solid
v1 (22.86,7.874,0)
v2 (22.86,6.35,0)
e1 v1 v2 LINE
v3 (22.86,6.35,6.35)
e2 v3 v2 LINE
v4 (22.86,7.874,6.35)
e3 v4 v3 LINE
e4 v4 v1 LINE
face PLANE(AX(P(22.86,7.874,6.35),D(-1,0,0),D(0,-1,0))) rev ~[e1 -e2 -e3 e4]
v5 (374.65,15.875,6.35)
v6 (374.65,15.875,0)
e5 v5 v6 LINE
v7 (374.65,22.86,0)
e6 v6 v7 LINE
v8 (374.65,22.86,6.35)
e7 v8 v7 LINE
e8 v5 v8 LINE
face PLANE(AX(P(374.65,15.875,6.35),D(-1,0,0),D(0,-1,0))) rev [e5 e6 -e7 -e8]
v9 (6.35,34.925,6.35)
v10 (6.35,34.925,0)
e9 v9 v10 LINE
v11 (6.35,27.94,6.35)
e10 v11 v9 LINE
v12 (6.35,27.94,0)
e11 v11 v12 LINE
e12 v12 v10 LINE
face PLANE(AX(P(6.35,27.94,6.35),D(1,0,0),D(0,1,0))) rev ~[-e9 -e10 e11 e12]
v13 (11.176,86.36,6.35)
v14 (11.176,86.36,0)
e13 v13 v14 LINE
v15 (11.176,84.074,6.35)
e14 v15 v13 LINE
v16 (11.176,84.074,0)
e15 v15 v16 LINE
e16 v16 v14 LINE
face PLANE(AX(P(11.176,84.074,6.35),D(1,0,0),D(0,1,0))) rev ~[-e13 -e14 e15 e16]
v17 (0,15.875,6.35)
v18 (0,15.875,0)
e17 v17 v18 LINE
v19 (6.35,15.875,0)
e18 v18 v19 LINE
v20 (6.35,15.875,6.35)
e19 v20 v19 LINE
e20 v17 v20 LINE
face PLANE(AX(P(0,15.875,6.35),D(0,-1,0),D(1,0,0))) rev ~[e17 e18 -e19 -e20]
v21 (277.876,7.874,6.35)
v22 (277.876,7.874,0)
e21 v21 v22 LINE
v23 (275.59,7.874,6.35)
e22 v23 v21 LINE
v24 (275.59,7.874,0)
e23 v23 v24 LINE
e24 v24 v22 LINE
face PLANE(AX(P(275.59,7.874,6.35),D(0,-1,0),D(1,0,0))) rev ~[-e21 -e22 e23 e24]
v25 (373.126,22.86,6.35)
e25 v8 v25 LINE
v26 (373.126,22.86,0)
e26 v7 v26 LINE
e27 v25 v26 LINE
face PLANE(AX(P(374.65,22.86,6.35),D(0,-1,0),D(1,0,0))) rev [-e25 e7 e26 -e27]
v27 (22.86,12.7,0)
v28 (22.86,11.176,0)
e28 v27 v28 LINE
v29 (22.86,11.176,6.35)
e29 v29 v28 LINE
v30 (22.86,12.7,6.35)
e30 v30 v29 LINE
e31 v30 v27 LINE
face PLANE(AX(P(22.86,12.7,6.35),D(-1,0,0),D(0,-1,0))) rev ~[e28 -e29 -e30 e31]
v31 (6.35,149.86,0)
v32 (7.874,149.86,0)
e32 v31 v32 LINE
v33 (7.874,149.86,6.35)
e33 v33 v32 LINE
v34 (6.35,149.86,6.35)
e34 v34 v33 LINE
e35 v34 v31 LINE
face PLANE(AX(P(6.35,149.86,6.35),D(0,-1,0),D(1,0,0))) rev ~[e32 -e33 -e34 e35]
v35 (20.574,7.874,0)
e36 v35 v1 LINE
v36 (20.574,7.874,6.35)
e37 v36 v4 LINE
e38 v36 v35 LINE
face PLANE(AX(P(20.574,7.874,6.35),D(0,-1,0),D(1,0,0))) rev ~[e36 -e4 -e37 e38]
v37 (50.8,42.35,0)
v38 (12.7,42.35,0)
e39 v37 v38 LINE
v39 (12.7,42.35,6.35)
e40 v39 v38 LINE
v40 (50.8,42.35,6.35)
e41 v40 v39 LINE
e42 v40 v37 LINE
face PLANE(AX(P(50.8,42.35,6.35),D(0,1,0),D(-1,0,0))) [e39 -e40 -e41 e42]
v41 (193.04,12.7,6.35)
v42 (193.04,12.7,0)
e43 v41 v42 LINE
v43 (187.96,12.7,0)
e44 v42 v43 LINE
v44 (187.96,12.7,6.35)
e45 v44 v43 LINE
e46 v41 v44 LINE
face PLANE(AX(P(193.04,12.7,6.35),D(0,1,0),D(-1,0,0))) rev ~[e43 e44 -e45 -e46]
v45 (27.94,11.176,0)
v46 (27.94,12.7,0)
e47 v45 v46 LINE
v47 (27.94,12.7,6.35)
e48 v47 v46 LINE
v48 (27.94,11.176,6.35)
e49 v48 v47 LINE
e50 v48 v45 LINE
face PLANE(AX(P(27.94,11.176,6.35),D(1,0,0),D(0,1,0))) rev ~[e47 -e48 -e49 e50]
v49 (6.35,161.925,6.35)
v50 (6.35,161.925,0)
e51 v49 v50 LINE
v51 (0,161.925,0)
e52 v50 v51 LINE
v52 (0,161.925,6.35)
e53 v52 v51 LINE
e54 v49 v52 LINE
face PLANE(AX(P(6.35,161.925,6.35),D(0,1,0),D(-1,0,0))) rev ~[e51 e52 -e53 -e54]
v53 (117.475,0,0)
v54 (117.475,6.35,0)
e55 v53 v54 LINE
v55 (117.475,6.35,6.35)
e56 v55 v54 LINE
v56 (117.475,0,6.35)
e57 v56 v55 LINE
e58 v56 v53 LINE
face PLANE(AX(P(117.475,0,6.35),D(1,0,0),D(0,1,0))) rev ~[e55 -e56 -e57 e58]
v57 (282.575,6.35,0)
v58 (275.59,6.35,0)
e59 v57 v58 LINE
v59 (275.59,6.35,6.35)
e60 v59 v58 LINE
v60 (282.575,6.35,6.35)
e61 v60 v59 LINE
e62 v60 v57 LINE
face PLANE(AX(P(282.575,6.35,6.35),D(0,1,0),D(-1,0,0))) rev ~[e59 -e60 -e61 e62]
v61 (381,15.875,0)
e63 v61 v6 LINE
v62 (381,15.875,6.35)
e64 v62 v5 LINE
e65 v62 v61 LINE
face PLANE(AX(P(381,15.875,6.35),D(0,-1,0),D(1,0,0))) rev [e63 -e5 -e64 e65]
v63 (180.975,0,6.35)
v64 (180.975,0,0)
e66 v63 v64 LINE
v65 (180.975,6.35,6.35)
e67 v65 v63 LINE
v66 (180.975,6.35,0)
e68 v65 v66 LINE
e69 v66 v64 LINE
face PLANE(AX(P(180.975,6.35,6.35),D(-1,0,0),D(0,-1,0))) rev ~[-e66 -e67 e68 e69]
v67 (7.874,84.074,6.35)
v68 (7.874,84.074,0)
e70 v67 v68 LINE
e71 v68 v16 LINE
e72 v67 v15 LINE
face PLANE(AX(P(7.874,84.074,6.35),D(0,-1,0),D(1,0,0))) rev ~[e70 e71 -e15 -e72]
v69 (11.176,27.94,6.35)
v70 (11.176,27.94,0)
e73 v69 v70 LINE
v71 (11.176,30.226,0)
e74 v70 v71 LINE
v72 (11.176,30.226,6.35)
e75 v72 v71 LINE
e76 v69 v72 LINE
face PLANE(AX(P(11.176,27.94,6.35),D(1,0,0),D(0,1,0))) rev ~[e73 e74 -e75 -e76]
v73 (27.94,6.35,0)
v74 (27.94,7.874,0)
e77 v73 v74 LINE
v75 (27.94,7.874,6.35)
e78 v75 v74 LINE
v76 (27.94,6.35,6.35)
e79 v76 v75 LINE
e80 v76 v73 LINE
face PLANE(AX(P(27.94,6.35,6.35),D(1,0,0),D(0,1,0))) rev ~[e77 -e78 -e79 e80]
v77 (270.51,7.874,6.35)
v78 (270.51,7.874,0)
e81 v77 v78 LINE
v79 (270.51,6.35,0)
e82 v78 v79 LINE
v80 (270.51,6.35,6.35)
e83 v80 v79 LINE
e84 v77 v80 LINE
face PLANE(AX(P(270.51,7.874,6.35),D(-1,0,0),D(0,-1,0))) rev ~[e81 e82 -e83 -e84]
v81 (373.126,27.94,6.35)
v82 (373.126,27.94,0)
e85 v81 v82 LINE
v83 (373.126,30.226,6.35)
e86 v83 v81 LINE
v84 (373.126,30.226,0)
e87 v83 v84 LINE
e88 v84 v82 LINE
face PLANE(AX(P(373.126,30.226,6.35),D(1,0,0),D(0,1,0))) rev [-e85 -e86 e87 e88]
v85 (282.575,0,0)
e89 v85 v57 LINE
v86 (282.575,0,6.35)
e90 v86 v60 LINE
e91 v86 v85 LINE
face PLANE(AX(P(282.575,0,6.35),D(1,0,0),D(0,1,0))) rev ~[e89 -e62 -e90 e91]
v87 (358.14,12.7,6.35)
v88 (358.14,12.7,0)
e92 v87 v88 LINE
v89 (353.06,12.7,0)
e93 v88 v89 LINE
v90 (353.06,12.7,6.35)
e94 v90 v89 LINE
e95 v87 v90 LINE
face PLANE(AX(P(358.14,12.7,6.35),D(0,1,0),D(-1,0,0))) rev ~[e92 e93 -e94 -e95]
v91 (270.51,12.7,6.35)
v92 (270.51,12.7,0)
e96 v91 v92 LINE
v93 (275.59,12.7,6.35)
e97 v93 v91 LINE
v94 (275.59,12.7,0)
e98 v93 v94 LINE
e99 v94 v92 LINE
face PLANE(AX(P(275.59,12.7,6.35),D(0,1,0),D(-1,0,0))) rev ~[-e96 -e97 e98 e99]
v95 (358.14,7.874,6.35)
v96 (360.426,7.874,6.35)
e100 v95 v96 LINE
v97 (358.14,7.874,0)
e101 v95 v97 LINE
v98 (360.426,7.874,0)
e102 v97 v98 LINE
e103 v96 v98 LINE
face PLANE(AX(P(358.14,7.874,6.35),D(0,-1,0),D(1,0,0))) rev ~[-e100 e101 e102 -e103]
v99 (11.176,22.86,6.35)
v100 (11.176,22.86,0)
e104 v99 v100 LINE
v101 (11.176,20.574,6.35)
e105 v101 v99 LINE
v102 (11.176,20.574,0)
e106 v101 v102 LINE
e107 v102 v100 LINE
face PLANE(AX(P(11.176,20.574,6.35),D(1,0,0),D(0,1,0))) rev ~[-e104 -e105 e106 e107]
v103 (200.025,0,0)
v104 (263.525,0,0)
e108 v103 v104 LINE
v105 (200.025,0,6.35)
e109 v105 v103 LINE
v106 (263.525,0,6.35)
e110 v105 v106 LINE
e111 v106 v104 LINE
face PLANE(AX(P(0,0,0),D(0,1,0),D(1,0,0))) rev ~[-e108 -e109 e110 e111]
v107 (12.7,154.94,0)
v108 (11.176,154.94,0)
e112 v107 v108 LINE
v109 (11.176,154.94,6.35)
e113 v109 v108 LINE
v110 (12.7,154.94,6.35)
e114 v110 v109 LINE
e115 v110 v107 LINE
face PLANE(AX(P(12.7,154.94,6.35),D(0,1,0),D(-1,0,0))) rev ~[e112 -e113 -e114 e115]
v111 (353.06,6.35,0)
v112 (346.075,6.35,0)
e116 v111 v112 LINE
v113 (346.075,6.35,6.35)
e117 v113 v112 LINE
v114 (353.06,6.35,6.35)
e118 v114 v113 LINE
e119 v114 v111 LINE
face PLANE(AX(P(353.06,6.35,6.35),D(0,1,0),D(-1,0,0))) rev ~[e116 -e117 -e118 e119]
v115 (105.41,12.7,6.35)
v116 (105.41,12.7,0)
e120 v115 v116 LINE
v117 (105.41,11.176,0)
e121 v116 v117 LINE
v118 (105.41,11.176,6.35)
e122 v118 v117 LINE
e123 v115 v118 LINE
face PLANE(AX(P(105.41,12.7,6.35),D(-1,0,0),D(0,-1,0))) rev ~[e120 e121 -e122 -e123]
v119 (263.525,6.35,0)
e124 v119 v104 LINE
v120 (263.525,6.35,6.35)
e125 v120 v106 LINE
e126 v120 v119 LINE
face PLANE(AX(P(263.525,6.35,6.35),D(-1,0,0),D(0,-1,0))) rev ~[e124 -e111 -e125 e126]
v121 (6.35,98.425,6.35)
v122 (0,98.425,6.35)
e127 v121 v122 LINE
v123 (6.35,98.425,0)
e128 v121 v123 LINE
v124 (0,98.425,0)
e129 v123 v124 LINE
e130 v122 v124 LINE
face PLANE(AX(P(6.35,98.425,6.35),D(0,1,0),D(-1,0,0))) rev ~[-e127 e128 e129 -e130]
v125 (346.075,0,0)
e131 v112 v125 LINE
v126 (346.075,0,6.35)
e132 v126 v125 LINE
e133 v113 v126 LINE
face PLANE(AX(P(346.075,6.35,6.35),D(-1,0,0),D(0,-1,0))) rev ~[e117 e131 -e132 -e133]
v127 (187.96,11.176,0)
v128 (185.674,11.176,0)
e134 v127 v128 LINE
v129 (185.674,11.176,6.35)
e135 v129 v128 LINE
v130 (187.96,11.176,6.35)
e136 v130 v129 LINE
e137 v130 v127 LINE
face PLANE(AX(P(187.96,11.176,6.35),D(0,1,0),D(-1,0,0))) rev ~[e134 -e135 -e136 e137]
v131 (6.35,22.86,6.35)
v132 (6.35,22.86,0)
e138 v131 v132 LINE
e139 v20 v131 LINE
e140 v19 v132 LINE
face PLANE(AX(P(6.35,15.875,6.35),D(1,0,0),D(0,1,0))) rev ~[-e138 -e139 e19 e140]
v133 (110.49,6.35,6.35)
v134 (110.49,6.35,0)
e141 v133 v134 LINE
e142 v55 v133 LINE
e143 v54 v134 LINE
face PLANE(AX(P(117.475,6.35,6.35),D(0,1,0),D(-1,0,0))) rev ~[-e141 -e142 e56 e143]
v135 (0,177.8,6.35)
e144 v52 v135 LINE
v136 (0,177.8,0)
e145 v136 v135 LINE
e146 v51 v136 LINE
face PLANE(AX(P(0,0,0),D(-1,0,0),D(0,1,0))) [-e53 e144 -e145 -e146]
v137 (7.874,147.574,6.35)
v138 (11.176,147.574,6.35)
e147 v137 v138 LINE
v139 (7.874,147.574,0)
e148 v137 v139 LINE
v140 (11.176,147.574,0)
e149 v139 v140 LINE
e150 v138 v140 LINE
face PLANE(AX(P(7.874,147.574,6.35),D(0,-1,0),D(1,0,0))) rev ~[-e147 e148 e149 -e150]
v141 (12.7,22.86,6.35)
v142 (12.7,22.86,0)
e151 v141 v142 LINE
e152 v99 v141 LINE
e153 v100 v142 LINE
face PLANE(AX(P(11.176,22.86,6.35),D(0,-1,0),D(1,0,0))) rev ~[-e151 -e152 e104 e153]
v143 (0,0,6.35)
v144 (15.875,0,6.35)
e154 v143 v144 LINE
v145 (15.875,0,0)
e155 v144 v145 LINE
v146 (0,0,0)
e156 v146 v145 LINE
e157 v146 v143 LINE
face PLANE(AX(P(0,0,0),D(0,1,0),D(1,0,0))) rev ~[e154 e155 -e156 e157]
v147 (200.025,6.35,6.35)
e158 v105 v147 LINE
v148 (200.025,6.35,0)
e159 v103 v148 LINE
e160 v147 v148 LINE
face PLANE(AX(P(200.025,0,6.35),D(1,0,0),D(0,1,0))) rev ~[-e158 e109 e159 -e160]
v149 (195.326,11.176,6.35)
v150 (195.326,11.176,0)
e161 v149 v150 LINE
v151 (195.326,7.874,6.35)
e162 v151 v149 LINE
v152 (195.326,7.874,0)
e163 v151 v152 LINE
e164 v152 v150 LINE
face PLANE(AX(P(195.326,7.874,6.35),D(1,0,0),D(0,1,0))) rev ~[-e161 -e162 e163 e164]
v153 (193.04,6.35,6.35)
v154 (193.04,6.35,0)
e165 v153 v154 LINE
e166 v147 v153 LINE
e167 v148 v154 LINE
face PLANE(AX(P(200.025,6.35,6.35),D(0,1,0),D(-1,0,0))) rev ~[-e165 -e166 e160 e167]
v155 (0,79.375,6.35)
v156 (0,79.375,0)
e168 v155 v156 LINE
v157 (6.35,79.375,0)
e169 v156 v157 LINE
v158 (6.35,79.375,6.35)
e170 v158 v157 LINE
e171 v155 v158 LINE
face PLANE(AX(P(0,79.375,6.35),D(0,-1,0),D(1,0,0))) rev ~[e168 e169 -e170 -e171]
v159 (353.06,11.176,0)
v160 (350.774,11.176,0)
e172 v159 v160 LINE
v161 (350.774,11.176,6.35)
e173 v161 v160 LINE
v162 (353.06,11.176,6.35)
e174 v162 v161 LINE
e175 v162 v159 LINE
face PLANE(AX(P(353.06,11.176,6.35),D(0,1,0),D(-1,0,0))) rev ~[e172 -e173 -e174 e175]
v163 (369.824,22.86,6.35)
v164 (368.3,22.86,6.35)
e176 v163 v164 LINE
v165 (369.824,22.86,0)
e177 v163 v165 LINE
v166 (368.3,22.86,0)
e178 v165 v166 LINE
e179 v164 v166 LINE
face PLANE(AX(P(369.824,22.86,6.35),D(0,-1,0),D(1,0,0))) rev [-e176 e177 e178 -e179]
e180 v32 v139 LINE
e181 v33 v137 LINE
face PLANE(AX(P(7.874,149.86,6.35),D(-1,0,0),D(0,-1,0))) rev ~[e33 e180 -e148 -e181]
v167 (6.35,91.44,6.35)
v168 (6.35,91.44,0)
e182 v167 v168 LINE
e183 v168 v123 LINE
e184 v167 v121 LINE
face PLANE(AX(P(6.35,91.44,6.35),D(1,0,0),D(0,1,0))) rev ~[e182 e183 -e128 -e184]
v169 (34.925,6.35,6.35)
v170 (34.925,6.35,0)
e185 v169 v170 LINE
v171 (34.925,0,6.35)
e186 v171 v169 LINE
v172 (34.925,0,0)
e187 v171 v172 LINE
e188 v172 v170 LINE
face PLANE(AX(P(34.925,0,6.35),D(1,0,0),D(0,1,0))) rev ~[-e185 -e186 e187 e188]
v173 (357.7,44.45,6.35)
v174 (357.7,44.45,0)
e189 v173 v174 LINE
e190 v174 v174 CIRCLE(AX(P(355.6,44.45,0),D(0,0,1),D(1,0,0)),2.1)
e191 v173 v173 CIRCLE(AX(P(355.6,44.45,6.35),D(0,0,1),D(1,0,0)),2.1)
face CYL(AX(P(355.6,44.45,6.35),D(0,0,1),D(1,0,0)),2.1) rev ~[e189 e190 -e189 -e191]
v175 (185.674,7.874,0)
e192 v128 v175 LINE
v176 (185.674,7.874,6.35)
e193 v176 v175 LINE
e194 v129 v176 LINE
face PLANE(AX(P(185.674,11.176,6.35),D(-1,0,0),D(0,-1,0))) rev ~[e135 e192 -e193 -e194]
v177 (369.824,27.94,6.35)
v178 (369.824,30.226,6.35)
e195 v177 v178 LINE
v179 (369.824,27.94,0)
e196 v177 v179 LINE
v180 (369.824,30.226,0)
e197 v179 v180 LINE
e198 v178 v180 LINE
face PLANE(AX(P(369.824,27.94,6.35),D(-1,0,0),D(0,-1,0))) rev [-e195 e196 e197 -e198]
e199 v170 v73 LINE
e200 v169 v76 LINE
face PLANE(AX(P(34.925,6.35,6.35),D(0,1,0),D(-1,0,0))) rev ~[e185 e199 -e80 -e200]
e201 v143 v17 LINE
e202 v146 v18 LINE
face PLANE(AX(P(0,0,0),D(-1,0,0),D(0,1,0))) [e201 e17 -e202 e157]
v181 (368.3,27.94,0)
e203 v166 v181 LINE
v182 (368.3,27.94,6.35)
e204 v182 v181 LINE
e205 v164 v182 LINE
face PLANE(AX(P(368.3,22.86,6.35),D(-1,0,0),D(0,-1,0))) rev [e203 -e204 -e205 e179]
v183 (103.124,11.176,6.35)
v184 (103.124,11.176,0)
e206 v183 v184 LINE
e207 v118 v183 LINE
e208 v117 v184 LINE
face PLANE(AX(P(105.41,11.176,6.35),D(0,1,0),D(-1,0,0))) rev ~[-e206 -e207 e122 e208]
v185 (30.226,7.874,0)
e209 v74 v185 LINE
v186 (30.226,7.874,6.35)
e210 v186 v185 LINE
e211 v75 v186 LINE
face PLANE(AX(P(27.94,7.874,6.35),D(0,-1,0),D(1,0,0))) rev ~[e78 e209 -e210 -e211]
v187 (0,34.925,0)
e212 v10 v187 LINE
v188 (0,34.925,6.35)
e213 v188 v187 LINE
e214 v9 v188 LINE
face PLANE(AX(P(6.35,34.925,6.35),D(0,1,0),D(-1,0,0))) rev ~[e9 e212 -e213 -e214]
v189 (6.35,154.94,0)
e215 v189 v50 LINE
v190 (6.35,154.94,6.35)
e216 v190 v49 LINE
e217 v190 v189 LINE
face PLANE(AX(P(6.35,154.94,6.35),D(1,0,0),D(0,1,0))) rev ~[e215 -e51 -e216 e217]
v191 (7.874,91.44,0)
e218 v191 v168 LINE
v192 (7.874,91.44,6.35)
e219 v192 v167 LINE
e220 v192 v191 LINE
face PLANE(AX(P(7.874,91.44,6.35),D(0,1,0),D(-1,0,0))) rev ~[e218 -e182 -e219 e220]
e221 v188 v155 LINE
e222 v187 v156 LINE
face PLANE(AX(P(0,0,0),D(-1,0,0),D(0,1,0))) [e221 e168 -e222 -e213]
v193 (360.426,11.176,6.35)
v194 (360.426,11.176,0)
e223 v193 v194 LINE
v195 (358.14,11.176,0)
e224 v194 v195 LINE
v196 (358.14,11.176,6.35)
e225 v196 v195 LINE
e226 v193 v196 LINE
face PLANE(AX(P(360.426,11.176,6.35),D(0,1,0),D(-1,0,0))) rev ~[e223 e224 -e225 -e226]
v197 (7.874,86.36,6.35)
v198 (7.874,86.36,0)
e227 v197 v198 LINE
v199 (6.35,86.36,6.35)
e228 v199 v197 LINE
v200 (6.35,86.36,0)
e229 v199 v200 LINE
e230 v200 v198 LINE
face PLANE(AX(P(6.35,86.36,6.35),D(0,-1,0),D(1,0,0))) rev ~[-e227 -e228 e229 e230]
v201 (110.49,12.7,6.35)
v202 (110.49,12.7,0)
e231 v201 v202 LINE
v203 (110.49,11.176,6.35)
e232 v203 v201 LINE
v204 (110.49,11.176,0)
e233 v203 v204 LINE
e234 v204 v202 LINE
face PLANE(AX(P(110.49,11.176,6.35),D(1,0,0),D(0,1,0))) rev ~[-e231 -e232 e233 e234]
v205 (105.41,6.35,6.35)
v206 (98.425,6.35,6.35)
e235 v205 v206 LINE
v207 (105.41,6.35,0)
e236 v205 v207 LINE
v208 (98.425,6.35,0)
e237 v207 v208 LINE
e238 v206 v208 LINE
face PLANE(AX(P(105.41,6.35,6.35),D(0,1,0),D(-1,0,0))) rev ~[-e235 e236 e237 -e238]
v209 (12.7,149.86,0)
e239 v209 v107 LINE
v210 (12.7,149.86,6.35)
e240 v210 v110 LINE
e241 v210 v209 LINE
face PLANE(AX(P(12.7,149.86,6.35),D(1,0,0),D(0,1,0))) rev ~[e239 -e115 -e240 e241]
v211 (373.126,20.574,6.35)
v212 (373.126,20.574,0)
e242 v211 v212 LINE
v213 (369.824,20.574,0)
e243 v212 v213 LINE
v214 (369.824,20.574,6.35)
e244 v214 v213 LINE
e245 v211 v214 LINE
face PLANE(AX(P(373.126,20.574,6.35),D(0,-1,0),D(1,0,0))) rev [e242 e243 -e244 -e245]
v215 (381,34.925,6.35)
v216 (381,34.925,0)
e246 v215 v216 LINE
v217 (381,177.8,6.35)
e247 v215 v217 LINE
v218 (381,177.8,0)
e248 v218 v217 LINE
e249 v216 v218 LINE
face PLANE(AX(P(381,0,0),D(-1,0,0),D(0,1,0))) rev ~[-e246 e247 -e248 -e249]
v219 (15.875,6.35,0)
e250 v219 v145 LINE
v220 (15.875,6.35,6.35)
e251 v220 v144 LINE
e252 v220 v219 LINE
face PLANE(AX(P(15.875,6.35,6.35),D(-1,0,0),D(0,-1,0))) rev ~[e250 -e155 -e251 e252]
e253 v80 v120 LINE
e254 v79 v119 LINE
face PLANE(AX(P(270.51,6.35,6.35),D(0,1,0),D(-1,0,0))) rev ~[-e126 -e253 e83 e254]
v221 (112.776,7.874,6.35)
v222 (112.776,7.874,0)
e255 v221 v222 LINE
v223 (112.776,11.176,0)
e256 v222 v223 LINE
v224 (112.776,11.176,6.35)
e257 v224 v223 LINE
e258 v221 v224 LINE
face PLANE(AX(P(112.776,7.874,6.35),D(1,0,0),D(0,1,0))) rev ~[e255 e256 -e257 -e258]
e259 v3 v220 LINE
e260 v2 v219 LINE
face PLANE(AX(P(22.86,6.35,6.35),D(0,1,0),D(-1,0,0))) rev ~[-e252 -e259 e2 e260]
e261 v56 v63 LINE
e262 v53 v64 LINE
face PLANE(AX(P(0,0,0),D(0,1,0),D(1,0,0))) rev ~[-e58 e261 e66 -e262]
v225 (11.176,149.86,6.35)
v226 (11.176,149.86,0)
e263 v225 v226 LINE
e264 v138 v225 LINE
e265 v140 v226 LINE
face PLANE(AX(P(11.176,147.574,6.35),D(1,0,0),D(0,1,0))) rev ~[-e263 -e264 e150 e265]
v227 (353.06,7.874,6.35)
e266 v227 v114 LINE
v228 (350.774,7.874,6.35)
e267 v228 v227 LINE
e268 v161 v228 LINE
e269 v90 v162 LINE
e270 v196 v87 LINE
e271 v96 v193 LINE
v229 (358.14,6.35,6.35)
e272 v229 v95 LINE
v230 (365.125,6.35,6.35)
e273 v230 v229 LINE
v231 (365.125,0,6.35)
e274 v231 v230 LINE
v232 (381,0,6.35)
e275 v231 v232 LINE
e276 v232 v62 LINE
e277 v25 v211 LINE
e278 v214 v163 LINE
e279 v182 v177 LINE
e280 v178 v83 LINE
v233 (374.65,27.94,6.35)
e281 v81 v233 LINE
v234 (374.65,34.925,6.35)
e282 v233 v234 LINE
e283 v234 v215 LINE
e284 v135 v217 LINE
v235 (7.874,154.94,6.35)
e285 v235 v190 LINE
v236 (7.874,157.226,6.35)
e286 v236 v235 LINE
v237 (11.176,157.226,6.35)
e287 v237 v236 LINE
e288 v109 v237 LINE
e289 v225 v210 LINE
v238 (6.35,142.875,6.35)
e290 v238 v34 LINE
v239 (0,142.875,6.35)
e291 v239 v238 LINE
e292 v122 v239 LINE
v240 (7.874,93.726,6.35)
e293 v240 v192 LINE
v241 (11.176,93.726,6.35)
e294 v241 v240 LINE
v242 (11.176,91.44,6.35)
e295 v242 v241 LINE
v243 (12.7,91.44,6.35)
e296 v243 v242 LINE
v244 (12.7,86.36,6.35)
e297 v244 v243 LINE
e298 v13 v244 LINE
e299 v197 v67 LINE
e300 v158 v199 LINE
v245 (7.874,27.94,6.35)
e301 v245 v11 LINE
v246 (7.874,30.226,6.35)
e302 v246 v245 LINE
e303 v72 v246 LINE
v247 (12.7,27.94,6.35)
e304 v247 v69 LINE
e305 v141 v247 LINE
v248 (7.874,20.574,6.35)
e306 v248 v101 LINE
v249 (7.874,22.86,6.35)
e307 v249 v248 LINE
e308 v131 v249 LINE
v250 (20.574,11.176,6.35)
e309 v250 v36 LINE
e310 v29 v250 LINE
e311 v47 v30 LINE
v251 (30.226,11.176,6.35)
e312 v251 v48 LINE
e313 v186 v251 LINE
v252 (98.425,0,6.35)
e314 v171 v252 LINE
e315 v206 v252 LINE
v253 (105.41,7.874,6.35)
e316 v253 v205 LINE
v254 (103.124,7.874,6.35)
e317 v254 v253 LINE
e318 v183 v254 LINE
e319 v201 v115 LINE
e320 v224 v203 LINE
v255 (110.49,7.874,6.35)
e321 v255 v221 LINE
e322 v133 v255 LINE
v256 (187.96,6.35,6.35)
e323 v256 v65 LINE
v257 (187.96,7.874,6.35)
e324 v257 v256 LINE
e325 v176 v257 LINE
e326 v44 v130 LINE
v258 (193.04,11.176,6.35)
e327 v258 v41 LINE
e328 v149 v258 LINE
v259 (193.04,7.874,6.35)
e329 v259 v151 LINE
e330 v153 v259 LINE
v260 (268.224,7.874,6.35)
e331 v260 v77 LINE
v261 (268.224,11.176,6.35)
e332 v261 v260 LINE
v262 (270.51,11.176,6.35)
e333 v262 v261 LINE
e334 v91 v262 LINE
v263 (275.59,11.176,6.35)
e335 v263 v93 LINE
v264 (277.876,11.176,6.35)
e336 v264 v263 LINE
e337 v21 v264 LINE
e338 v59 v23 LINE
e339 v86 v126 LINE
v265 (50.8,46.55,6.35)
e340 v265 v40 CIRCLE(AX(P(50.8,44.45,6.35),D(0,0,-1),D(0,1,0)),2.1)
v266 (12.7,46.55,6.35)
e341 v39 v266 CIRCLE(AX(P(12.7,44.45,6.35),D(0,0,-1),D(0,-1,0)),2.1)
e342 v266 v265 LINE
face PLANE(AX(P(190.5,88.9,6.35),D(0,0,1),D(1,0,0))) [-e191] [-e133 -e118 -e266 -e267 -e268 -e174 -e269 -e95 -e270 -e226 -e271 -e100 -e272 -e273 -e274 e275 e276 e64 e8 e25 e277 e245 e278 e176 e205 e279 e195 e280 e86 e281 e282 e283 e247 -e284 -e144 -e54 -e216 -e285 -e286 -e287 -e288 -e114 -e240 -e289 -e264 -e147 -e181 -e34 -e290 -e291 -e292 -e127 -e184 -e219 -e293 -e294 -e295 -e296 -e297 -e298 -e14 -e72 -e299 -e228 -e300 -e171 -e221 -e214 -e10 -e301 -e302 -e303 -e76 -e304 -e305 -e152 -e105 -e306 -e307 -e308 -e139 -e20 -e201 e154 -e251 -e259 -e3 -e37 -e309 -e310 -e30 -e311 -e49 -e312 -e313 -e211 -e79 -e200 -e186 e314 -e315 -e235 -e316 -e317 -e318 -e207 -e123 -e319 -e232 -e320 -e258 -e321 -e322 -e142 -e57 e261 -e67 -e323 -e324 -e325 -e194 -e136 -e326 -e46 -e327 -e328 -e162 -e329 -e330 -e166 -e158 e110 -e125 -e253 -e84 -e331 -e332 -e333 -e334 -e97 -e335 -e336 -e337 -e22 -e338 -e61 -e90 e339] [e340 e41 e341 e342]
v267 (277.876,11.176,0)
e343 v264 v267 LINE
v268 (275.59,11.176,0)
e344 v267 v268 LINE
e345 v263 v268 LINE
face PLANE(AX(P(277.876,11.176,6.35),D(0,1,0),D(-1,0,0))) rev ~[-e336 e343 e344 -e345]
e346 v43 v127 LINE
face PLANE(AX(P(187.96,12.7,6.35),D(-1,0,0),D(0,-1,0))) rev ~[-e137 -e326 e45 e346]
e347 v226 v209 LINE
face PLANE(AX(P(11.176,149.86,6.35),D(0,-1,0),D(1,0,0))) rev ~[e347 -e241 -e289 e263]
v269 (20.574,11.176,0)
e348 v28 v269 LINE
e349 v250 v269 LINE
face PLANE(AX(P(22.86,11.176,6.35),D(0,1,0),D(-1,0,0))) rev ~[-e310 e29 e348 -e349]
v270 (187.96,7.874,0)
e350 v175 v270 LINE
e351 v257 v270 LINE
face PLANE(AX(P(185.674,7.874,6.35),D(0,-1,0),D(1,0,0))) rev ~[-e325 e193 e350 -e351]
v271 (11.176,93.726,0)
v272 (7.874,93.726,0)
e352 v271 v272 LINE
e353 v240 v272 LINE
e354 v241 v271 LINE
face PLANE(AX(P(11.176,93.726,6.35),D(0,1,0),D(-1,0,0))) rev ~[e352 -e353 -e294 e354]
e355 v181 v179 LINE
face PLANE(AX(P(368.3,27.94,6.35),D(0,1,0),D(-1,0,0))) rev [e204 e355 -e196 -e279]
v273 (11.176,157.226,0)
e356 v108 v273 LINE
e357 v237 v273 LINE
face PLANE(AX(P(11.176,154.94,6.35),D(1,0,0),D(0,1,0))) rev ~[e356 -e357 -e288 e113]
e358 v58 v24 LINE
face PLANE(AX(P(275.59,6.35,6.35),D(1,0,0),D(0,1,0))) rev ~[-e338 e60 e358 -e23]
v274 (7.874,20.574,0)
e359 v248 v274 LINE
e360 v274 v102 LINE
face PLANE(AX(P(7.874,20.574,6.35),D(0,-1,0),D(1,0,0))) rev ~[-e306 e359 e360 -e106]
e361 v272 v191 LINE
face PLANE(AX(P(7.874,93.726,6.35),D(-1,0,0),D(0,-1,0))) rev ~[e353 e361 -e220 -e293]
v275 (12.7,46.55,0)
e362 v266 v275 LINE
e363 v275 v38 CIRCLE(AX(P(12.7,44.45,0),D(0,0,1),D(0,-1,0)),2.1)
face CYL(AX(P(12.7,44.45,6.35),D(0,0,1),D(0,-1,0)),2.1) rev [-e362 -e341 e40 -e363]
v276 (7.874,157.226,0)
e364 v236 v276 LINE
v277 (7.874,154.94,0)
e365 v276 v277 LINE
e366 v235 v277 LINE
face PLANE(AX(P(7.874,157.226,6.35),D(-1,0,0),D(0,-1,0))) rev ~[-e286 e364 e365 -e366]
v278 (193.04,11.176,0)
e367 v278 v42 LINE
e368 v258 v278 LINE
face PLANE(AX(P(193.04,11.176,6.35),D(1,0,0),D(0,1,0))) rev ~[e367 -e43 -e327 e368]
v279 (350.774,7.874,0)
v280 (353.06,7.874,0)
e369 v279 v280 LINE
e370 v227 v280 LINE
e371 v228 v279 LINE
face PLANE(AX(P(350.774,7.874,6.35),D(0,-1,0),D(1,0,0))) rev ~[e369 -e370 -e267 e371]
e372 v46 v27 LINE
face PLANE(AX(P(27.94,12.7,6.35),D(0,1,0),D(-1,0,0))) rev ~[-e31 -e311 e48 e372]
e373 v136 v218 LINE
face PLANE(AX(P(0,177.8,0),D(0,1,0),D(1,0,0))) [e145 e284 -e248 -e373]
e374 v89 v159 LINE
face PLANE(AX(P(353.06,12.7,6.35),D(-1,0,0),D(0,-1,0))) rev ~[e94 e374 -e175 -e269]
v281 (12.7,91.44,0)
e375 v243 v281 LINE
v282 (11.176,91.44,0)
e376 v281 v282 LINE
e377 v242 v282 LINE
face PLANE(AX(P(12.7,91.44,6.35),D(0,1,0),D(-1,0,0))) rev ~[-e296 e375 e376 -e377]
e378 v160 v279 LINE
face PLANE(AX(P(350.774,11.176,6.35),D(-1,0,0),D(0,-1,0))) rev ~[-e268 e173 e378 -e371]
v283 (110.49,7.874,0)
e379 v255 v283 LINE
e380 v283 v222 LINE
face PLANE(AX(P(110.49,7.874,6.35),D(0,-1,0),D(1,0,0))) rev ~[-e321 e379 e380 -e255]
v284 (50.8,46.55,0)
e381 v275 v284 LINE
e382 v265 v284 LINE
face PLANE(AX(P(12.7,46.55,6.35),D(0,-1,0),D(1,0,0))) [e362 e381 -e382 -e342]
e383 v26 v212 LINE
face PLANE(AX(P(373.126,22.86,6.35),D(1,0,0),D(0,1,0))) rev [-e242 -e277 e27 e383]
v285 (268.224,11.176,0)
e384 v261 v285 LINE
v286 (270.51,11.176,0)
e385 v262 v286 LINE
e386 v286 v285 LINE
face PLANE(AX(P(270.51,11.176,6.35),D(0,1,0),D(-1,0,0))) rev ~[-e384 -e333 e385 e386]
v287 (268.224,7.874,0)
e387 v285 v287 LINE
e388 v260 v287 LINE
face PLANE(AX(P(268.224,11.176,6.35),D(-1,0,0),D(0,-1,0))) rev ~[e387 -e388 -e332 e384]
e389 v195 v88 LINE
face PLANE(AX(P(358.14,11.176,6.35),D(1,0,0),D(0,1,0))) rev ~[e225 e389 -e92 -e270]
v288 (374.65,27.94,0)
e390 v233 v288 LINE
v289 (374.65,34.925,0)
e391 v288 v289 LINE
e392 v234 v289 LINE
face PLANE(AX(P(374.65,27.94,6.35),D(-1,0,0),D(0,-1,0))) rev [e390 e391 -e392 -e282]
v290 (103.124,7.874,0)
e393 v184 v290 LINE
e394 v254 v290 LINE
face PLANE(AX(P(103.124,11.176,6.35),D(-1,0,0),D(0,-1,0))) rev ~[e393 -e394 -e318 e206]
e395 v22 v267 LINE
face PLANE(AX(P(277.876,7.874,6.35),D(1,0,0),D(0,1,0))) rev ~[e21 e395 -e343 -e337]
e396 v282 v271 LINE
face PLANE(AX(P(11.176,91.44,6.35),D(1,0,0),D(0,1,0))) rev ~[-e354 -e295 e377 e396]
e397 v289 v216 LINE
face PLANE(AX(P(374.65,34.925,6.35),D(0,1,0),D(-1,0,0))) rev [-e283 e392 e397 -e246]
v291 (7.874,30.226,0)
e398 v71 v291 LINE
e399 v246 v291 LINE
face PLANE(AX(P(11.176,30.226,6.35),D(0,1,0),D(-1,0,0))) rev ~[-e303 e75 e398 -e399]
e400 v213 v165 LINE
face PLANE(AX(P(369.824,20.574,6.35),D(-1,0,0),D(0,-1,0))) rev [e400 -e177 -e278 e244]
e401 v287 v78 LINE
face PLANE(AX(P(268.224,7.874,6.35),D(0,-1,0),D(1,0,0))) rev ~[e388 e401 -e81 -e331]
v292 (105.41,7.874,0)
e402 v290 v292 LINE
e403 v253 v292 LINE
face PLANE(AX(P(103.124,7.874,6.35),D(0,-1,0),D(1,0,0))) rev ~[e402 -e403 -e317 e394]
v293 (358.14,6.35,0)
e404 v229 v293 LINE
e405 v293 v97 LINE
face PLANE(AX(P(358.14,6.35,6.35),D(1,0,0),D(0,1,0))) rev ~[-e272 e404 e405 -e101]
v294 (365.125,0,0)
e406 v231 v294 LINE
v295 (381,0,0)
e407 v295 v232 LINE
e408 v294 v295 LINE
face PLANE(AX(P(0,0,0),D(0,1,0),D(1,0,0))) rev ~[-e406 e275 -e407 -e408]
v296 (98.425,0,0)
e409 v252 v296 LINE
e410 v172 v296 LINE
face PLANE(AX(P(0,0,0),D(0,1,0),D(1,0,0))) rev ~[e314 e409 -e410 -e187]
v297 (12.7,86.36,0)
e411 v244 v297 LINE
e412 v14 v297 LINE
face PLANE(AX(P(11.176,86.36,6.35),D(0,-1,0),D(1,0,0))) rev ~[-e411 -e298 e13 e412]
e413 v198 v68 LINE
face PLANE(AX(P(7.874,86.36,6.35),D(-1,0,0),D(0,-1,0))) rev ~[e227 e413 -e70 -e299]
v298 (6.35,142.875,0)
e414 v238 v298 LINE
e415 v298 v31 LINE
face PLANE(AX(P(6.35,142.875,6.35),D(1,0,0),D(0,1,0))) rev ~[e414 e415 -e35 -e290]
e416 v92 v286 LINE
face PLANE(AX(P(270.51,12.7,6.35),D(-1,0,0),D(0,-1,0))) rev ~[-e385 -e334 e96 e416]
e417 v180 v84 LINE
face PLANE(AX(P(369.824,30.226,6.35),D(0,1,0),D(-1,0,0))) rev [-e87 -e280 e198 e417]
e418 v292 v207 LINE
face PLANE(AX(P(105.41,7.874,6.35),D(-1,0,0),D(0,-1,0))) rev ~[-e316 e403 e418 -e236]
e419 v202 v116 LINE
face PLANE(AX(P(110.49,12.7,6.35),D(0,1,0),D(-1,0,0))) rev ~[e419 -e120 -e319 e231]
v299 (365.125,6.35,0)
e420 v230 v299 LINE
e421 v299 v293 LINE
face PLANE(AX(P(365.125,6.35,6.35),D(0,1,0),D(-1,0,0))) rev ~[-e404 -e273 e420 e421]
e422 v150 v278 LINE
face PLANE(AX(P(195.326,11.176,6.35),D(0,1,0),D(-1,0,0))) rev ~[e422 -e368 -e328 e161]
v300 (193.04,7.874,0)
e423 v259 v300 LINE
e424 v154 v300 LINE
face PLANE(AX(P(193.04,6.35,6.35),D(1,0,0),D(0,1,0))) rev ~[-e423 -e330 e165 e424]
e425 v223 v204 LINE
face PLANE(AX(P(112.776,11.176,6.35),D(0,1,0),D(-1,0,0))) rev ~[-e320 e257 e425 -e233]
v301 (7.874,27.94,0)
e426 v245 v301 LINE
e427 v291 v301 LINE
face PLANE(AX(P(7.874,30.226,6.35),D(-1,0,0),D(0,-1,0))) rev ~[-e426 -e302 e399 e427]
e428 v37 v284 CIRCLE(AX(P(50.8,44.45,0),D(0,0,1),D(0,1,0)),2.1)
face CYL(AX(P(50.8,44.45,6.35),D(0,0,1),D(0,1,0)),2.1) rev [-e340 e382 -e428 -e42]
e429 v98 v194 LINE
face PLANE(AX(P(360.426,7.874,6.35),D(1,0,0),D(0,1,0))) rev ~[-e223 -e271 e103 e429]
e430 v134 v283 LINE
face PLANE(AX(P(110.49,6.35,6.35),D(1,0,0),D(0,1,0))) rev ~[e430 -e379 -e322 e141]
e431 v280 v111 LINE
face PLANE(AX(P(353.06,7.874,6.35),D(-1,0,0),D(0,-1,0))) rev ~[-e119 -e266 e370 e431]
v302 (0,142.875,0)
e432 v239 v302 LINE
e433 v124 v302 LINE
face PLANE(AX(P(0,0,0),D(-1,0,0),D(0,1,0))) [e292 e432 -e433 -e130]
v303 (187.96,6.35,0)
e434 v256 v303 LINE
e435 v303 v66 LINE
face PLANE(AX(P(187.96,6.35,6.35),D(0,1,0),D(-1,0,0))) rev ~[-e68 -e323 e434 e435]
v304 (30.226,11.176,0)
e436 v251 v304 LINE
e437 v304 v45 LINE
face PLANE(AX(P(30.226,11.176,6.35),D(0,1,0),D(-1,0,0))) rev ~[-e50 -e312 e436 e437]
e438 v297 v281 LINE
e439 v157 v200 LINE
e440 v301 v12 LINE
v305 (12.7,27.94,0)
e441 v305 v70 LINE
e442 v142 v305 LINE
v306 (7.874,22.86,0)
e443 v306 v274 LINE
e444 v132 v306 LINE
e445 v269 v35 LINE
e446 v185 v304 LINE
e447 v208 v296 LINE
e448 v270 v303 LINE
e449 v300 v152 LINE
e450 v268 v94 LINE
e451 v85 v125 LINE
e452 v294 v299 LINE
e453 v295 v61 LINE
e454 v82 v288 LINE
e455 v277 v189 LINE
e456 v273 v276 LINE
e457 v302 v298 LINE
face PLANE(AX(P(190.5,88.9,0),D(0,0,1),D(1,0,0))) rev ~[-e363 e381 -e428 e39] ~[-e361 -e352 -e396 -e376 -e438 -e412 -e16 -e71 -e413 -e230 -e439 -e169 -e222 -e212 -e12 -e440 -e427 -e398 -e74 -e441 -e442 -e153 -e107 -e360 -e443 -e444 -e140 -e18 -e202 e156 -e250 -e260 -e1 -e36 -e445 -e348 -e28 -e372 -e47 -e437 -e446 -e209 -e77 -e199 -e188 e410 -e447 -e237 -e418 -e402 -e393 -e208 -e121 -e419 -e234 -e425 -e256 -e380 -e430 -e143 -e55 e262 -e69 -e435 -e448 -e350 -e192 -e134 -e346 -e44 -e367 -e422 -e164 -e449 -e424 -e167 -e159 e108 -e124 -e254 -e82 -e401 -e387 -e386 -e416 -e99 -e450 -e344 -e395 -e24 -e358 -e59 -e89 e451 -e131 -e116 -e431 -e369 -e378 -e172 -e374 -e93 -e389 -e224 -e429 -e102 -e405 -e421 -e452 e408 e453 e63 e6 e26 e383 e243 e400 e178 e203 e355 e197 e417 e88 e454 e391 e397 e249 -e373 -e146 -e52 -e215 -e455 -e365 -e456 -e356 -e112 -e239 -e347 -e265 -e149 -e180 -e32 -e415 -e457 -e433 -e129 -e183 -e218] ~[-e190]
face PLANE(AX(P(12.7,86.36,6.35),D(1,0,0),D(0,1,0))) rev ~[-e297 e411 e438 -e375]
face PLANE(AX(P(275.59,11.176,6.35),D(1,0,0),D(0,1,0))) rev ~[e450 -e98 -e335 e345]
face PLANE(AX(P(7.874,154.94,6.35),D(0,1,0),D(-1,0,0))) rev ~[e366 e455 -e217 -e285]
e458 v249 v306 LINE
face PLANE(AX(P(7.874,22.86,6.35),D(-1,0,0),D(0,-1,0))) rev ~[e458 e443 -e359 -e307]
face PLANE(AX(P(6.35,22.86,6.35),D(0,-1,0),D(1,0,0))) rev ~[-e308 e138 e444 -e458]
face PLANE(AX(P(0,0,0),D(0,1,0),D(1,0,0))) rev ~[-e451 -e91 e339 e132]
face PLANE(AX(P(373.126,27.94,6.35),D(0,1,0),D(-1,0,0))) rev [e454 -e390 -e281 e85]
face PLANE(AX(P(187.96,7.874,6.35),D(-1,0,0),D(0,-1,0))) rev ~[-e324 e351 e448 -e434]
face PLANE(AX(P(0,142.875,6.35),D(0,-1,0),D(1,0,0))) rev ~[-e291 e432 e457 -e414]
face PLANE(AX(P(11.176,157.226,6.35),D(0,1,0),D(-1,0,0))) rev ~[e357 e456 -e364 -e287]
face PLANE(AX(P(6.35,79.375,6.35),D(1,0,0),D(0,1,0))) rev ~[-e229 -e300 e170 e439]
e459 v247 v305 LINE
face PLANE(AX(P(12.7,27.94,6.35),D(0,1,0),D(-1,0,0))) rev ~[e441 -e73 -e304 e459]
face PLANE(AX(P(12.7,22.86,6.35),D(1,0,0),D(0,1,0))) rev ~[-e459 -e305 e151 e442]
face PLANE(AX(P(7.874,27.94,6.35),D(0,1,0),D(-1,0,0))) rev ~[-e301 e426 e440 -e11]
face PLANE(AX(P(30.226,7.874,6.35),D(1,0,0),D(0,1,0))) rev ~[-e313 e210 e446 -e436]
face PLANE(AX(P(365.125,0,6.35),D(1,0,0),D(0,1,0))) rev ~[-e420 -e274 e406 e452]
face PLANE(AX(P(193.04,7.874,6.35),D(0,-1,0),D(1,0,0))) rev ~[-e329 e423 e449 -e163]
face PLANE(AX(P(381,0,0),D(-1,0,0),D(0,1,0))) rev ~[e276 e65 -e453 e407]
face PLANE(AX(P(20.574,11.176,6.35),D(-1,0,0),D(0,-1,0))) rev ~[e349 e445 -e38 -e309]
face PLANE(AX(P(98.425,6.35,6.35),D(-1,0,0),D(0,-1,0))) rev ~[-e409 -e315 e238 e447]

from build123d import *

# Parameters (mm, degrees)
SKETCH1_W           = 381
SKETCH1_H           = 177.8
BOSS_EXTRUDE1_DEPTH = 6.35
CUT_EXTRUDE1_DEPTH  = 421.492761531
CUT_EXTRUDE2_DEPTH  = 421.492761531
LPATTERN1_COUNT     = 5
LPATTERN1_PITCH     = 82.55
SKETCH7_R           = 2.1
CUT_EXTRUDE3_DEPTH  = 421.492761531
CUT_EXTRUDE4_DEPTH  = 421.492761531
LPATTERN3_COUNT     = 2
LPATTERN3_PITCH     = 63.5
CUT_EXTRUDE5_DEPTH  = 421.492761531


with BuildPart() as part:
    # Sketch1 → Boss-Extrude1 (new body)
    with BuildSketch(Plane.XY):
        with Locations((190.5, 88.9)):
            Rectangle(SKETCH1_W, SKETCH1_H)
    extrude(amount=BOSS_EXTRUDE1_DEPTH)

    # Sketch2 → Cut-Extrude1 (cut, through all)
    with BuildSketch(Plane.XY.offset(6.35)):
        with BuildLine():
            Line((12.7, 46.55), (50.8, 46.55))
            ThreePointArc((50.8, 46.55), (52.9, 44.45), (50.8, 42.35))
            Line((50.8, 42.35), (12.7, 42.35))
            ThreePointArc((12.7, 42.35), (10.6, 44.45), (12.7, 46.55))
        make_face()
    extrude(amount=-CUT_EXTRUDE1_DEPTH, mode=Mode.SUBTRACT)

    # Sketch6 → Cut-Extrude2 (cut, through all)
    with BuildSketch(Plane.XY.offset(6.35)):
        Polygon((15.875, 0), (34.925, 0), (34.925, 6.35), (27.94, 6.35), (27.94, 7.874), (30.226, 7.874), (30.226, 11.176), (27.94, 11.176), (27.94, 12.7), (22.86, 12.7), (22.86, 11.176), (20.574, 11.176), (20.574, 7.874), (22.86, 7.874), (22.86, 6.35), (15.875, 6.35), align=None)
    cut_extrude2 = extrude(amount=-CUT_EXTRUDE2_DEPTH, mode=Mode.SUBTRACT)

    # LPattern1: Cut-Extrude2 ×5
    with Locations(*[(i * LPATTERN1_PITCH, 0, 0) for i in range(1, LPATTERN1_COUNT)]):
        add(cut_extrude2, mode=Mode.SUBTRACT)

    # Sketch7 → Cut-Extrude3 (cut, through all)
    with BuildSketch(Plane.XY.offset(6.35)):
        with Locations((355.6, 44.45)):
            Circle(SKETCH7_R)
    extrude(amount=-CUT_EXTRUDE3_DEPTH, mode=Mode.SUBTRACT)

    # Sketch8 → Cut-Extrude4 (cut, through all)
    with BuildSketch(Plane.XY.offset(6.35)):
        Polygon((0, 161.925), (0, 142.875), (6.35, 142.875), (6.35, 149.86), (7.874, 149.86), (7.874, 147.574), (11.176, 147.574), (11.176, 149.86), (12.7, 149.86), (12.7, 154.94), (11.176, 154.94), (11.176, 157.226), (7.874, 157.226), (7.874, 154.94), (6.35, 154.94), (6.35, 161.925), align=None)
    cut_extrude4 = extrude(amount=-CUT_EXTRUDE4_DEPTH, mode=Mode.SUBTRACT)

    # LPattern3: Cut-Extrude4 ×2
    with Locations(*[(0, -i * LPATTERN3_PITCH, 0) for i in range(1, LPATTERN3_COUNT)]):
        add(cut_extrude4, mode=Mode.SUBTRACT)

    # Sketch9 → Cut-Extrude5 (cut, through all)
    with BuildSketch(Plane.XY.offset(6.35)):
        Polygon((0, 34.925), (0, 15.875), (6.35, 15.875), (6.35, 22.86), (7.874, 22.86), (7.874, 20.574), (11.176, 20.574), (11.176, 22.86), (12.7, 22.86), (12.7, 27.94), (11.176, 27.94), (11.176, 30.226), (7.874, 30.226), (7.874, 27.94), (6.35, 27.94), (6.35, 34.925), align=None)
    cut_extrude5 = extrude(amount=-CUT_EXTRUDE5_DEPTH, mode=Mode.SUBTRACT)

    # Mirror2: Cut-Extrude5 across plane
    add(cut_extrude5.mirror(Plane.ZY.offset(-190.5)), mode=Mode.SUBTRACT)


solid = part.part
